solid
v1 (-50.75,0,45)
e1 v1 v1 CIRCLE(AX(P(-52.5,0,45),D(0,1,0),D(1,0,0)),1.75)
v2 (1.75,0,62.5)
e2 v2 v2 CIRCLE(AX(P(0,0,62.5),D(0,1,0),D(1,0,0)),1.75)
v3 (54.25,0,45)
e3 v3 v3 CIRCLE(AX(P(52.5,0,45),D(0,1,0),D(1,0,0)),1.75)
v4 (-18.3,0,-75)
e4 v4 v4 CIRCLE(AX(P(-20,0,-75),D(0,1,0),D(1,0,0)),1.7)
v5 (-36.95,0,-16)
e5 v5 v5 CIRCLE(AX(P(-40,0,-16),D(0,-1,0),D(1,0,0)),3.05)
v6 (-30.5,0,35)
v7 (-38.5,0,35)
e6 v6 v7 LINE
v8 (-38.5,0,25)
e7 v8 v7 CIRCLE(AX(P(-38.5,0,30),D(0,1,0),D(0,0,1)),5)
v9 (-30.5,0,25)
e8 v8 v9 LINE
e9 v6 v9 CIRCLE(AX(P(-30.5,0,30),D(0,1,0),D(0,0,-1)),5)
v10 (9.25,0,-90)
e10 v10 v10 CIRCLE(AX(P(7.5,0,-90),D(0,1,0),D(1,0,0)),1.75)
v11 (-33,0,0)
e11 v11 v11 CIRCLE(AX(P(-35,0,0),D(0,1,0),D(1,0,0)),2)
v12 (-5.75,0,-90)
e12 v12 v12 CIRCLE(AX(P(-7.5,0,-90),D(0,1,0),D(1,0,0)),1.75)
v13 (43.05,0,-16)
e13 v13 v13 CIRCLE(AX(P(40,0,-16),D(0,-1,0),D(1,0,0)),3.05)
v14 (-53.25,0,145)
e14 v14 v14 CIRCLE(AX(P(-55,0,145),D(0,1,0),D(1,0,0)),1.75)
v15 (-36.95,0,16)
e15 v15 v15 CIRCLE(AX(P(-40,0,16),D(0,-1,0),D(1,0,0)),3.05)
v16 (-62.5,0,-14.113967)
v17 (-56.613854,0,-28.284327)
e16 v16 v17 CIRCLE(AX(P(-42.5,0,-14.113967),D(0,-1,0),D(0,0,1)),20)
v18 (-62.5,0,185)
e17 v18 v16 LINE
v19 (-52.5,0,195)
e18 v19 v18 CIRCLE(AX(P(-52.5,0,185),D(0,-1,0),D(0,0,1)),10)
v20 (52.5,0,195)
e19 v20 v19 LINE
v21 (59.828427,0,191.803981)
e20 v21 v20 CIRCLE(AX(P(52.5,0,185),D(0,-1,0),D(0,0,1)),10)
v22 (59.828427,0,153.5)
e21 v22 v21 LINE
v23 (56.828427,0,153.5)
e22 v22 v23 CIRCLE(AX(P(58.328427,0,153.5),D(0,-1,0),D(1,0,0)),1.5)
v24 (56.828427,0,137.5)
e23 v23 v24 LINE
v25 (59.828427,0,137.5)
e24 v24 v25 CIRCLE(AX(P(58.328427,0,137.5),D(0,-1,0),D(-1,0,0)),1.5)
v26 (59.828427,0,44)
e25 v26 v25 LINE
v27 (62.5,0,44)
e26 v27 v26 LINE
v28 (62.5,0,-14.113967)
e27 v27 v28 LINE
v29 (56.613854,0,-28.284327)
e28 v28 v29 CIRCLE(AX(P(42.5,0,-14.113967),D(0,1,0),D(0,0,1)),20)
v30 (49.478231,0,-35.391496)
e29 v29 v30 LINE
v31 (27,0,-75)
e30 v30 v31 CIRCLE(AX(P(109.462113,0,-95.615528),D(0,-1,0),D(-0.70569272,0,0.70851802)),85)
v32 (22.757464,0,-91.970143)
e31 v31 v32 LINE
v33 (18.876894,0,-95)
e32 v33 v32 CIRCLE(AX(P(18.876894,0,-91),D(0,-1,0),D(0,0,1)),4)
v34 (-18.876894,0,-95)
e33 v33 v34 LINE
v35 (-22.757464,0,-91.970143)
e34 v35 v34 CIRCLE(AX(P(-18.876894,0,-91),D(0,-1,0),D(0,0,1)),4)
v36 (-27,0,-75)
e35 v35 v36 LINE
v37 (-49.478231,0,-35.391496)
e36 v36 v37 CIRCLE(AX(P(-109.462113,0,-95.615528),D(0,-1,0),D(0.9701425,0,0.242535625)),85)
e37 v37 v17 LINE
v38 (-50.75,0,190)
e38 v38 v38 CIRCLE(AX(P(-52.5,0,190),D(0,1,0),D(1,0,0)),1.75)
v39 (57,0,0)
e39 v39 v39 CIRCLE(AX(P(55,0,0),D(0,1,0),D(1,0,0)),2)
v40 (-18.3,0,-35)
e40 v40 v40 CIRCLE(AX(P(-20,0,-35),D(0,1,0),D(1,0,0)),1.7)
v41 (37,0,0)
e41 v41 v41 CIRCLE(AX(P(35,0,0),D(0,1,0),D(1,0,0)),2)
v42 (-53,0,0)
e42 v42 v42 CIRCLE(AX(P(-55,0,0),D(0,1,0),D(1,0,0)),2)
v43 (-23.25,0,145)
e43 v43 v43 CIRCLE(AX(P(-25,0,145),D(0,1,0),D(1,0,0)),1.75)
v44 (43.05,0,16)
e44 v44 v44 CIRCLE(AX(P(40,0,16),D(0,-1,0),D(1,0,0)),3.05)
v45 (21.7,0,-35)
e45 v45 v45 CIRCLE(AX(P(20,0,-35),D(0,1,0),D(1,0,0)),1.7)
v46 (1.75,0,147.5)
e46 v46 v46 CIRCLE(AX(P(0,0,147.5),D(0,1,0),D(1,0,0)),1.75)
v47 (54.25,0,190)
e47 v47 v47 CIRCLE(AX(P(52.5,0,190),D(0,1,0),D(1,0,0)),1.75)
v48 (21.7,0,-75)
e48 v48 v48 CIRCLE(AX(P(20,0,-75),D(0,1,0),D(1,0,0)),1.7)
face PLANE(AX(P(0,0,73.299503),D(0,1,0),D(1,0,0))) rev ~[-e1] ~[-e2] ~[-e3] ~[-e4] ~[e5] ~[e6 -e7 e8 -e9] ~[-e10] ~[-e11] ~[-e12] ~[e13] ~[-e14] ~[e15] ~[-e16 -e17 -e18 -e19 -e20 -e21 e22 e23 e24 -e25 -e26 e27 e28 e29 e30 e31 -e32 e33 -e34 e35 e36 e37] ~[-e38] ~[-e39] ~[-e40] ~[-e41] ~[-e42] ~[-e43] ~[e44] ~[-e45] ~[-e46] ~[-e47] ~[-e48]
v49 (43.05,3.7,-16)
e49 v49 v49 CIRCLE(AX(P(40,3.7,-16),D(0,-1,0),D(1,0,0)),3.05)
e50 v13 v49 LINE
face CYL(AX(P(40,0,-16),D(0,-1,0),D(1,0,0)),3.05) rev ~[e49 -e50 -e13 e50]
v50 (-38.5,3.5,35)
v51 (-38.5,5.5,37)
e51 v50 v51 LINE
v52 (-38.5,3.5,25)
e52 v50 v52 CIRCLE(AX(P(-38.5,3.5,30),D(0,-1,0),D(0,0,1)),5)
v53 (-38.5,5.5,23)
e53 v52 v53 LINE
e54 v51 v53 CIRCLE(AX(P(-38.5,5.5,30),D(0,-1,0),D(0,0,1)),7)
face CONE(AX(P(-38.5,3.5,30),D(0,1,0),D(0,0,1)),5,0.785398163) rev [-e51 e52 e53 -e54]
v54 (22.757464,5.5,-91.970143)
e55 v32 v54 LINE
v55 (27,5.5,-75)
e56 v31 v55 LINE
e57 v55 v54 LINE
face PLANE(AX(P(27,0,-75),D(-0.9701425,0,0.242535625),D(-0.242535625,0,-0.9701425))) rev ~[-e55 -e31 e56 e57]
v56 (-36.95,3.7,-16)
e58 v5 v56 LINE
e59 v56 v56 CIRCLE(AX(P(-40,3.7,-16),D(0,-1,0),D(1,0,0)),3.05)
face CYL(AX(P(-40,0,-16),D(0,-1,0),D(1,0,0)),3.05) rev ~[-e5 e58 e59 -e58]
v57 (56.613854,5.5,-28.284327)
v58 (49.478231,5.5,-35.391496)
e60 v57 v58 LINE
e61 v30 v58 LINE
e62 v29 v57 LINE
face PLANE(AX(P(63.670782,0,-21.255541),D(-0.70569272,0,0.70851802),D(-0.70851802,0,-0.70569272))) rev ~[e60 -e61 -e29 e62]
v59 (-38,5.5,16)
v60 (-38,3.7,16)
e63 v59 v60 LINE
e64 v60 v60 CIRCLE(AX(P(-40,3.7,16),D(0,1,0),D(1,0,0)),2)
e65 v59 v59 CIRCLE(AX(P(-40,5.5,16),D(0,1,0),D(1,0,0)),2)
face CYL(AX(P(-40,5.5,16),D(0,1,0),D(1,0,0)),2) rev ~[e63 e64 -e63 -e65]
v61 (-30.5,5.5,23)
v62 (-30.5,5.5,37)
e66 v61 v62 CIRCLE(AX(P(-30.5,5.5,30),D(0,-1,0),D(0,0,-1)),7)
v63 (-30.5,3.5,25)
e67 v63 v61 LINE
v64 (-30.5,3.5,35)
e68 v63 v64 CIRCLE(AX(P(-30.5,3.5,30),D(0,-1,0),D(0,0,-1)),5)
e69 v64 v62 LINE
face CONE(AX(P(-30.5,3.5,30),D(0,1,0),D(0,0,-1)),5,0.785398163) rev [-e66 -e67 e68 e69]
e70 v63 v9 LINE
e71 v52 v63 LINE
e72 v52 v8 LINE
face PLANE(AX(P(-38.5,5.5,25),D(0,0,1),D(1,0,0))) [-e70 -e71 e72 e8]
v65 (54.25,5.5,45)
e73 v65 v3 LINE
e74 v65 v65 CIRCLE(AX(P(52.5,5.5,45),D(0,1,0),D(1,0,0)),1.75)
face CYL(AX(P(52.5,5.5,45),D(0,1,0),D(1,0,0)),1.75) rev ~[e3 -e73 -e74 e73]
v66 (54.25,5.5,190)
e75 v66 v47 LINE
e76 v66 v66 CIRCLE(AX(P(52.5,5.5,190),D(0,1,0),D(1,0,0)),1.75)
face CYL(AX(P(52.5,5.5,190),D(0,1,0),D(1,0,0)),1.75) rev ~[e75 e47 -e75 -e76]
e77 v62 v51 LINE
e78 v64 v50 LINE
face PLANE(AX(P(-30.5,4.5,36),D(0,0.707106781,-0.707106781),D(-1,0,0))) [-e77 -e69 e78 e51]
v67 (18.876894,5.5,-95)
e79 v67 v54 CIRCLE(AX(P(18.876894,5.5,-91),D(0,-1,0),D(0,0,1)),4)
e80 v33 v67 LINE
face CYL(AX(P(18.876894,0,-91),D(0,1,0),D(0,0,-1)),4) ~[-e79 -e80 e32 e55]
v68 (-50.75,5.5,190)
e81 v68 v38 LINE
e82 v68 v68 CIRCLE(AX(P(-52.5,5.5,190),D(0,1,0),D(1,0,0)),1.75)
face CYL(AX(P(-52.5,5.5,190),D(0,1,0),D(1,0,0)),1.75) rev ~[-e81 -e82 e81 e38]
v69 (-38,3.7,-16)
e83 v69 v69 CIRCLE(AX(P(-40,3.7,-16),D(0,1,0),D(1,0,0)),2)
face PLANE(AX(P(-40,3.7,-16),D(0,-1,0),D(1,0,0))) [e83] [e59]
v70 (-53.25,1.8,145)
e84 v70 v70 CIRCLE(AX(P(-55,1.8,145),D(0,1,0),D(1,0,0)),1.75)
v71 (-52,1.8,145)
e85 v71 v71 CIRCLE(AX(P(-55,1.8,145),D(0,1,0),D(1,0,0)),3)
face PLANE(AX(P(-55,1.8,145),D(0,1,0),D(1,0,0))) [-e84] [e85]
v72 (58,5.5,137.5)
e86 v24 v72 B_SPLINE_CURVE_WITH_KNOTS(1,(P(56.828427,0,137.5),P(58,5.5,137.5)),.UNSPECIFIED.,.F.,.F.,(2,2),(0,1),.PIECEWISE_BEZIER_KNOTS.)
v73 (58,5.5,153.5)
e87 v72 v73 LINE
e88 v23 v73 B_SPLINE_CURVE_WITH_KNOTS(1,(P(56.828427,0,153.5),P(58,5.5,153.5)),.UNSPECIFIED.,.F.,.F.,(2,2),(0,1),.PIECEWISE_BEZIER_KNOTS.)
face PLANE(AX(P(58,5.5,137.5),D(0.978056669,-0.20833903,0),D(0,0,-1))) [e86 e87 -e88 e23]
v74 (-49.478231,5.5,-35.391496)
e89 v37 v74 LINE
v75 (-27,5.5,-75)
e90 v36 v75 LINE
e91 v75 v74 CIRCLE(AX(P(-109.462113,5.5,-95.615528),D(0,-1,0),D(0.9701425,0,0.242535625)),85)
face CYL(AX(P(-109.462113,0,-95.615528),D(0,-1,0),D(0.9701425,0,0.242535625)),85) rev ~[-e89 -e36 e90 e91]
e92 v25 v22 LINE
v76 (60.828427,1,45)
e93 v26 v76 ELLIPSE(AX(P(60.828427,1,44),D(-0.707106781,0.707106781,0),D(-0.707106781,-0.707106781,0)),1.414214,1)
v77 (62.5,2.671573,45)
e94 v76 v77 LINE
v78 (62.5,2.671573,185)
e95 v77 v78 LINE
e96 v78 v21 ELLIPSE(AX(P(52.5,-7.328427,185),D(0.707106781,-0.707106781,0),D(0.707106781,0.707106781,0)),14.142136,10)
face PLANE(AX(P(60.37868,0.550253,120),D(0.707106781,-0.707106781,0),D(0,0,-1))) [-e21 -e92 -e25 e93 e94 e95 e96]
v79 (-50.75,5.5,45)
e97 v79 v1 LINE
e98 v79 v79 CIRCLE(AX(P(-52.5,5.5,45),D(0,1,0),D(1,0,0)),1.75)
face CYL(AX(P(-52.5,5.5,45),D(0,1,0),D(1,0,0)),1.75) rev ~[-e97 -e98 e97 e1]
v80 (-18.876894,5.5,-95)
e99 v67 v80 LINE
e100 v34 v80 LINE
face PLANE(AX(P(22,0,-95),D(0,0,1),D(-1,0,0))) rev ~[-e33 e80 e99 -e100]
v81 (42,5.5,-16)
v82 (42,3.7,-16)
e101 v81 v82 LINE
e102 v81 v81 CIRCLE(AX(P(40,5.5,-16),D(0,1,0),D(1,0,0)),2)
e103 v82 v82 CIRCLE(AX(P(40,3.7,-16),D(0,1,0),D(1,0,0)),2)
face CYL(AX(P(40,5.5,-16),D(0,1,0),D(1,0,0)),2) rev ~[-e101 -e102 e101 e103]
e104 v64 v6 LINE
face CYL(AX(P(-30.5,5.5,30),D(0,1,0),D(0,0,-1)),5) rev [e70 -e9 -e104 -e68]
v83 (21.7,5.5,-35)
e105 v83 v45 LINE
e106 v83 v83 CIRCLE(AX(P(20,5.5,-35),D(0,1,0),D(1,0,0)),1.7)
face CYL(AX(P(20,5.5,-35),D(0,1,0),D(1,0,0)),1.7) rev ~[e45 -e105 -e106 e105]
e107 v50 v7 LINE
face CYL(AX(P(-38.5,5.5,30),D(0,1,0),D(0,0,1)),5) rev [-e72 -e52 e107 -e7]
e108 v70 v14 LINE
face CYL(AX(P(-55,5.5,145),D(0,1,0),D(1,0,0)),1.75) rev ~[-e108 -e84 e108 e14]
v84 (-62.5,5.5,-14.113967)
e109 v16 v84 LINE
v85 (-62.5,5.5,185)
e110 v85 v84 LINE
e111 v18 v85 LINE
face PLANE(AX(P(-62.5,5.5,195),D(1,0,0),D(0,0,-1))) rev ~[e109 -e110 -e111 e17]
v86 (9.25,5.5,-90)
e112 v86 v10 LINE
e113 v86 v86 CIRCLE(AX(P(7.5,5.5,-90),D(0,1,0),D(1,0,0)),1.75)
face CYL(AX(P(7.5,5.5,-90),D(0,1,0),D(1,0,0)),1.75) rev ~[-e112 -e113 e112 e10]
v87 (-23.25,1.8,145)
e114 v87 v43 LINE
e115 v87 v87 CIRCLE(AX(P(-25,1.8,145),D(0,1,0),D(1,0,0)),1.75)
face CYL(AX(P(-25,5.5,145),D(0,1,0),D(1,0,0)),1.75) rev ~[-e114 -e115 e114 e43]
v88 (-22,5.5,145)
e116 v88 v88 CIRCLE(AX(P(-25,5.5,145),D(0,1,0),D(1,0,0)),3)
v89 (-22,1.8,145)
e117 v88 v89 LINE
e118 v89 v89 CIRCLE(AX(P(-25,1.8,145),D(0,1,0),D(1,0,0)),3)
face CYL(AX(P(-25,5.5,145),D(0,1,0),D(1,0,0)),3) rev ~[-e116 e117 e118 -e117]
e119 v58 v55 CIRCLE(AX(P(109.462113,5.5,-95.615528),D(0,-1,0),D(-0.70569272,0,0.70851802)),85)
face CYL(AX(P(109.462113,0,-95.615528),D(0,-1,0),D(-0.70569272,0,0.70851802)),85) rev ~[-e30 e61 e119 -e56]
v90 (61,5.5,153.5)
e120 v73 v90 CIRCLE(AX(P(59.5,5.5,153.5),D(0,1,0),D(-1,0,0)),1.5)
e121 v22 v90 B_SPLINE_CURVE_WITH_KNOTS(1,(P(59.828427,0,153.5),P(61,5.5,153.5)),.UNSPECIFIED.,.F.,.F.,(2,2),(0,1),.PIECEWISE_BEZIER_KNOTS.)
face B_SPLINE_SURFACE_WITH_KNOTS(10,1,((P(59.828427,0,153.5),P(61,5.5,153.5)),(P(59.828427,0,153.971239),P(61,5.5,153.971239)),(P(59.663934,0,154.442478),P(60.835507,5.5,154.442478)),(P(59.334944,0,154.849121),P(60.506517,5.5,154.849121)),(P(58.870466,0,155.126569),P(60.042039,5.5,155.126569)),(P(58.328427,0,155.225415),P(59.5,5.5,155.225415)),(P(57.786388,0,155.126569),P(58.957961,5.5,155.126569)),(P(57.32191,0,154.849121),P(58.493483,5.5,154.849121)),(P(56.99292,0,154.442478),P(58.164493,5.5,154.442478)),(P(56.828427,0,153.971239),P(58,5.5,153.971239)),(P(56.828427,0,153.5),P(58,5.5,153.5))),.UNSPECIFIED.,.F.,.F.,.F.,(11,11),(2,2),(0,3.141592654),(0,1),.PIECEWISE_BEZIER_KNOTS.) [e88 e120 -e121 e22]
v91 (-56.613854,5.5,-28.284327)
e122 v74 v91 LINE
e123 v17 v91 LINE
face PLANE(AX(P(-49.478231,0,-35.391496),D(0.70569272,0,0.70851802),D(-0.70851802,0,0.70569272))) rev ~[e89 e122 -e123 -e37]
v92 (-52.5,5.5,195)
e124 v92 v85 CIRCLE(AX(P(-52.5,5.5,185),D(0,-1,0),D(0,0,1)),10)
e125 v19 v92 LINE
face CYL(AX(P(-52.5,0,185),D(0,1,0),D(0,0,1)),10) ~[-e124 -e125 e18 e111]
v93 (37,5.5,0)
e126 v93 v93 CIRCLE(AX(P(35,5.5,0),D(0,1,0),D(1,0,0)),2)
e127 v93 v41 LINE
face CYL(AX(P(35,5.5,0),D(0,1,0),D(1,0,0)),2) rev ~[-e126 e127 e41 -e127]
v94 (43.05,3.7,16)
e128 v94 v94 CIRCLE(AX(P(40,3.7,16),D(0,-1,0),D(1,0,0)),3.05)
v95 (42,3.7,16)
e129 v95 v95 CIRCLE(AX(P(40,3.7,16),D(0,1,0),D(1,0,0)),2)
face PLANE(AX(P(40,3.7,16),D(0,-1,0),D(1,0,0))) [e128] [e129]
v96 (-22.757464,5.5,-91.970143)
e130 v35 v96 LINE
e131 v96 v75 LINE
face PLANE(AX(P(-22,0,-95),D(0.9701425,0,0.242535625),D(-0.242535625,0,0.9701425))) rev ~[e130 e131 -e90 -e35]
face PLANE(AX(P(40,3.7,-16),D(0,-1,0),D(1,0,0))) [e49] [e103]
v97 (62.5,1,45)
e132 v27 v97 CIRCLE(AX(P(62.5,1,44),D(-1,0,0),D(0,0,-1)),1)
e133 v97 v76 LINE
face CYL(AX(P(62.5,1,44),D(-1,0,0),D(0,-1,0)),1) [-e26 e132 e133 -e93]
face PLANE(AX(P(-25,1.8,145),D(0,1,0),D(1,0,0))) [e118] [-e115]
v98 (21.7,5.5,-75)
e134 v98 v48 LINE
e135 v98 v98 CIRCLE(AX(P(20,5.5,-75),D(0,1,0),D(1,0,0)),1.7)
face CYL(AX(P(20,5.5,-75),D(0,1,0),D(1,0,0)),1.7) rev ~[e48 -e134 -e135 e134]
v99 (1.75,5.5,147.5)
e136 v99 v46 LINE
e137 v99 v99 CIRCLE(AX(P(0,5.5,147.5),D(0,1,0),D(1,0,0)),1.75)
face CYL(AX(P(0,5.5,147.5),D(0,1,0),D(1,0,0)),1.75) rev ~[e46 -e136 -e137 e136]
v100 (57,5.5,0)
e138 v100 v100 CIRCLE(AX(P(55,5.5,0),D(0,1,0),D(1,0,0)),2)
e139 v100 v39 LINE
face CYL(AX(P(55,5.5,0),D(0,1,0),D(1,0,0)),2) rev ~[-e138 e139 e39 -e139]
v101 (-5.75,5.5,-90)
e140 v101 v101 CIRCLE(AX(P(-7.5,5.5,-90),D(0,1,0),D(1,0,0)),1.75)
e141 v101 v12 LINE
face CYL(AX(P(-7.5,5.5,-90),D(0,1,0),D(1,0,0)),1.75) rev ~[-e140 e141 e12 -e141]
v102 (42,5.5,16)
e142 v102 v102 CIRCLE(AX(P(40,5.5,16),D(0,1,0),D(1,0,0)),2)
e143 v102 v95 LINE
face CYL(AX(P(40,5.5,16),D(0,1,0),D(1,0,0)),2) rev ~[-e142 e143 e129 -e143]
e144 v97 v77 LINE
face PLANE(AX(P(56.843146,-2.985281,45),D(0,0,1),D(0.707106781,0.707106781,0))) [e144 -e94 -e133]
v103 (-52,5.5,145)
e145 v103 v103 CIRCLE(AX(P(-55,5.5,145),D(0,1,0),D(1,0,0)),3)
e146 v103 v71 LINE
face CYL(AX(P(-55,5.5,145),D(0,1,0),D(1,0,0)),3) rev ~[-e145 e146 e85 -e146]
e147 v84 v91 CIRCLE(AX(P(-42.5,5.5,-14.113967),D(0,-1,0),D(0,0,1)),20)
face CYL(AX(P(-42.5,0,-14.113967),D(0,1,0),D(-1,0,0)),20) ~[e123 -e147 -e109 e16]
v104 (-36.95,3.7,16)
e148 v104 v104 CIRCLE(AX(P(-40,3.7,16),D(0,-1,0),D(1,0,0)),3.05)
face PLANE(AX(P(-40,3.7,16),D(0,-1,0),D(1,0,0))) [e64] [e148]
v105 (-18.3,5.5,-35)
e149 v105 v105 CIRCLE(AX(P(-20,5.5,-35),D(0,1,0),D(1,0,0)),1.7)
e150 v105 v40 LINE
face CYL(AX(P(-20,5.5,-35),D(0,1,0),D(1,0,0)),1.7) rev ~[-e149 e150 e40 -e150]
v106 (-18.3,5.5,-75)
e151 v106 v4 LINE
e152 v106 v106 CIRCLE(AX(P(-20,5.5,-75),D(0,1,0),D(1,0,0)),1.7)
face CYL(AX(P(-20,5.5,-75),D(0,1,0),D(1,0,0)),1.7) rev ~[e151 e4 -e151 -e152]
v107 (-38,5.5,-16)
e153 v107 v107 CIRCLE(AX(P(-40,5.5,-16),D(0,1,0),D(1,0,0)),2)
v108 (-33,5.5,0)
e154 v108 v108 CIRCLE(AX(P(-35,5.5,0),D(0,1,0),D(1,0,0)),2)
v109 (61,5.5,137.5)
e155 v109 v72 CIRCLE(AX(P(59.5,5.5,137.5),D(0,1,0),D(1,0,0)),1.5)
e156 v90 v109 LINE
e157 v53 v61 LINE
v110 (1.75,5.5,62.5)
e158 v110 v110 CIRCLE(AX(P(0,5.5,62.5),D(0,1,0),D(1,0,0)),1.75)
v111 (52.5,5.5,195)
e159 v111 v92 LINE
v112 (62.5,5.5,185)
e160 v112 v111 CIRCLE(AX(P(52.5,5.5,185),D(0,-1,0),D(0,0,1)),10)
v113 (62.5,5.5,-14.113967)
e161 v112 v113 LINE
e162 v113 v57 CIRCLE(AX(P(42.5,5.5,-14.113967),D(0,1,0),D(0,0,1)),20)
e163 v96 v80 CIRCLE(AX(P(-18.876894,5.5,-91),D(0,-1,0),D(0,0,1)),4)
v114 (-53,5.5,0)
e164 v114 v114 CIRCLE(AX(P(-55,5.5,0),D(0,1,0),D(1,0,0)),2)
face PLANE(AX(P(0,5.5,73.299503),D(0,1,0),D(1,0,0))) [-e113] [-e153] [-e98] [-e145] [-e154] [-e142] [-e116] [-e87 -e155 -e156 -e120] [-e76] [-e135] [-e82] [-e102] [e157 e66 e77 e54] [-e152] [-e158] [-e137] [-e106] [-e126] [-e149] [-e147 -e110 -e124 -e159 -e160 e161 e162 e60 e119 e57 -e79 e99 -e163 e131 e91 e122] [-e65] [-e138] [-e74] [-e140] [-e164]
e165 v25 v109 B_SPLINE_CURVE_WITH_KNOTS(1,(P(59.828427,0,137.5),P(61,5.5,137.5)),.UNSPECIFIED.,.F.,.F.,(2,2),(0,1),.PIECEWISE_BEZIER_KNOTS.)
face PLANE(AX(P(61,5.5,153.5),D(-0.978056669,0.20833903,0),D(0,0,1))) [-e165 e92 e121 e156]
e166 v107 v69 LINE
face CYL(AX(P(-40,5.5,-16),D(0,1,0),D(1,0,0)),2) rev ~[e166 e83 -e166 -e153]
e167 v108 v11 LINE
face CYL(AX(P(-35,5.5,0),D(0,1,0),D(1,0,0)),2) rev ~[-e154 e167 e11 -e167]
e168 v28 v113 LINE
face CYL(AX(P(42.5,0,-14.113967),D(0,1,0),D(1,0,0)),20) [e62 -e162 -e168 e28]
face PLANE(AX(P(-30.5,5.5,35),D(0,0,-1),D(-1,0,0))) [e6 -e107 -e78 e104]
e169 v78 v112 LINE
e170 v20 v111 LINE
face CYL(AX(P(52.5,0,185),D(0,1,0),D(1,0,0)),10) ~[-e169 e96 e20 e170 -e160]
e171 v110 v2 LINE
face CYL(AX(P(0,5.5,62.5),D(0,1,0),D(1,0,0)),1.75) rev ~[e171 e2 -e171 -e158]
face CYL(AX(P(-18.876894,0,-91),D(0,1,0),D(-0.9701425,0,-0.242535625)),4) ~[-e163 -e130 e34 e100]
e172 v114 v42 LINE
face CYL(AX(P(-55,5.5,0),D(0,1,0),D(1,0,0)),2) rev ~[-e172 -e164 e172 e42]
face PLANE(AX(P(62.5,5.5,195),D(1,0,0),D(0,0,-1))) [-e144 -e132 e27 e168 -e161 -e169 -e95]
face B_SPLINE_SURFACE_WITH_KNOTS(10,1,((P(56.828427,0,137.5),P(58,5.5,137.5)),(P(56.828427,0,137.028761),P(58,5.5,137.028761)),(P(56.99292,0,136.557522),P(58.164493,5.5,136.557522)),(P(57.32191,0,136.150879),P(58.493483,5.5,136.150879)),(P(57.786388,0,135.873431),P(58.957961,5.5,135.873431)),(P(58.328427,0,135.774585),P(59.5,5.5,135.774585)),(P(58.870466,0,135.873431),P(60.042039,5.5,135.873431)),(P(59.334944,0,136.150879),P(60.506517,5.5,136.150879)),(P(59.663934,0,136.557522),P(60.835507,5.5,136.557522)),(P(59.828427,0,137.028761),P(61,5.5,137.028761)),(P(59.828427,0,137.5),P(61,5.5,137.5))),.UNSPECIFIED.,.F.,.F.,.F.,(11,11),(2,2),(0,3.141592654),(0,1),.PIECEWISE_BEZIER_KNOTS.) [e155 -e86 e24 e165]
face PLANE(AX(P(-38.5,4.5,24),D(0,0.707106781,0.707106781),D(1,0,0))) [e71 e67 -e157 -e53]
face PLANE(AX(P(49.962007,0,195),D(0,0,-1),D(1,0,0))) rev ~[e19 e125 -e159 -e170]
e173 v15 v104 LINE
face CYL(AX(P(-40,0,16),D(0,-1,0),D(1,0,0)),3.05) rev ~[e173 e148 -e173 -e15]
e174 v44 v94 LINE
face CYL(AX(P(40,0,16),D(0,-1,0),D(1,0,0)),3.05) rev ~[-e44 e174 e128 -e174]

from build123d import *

# Parameters (mm, degrees)
DECK_BASE_DEPTH       = 5.5
BOLT_SLOT_REACH       = 7.5
SKETCH_3_R            = 1.75
FILLET_1_R            = 4
CUT_EXTRUDE_6_REACH   = 7.5
SKETCH_15_W           = 145
SKETCH_15_H           = 39
SKETCH_17_OUTSIDE_W   = 211.856
SKETCH_17_OUTSIDE_H   = 356.856
SKETCH_17_OUTSIDE_W_2 = 125
SKETCH_17_OUTSIDE_H_2 = 290
CUT_EXTRUDE_8_DEPTH   = 10
FILLET_4_R            = 10
FILLET_5_R            = 20
MOTOR_BOLT_DEPTH      = 10
CHAMFER_1_SIZE        = 2
SKETCH_22_R           = 2
CUT_EXTRUDE_9_DEPTH   = 10
LIDAR_SLOT_REACH      = 7.5
SKETCH_4_R            = 1.7
NANO_SLOT_REACH       = 7.5
SKETCH_7_R            = 1.75
CUT_EXTRUDE_3_REACH   = 7.5
SKETCH_12_R           = 1.75
SKETCH_13_R           = 3
CUT_EXTRUDE_4_DEPTH   = 3.7
SKETCH_23_R           = 3.05
CUT_EXTRUDE_10_DEPTH  = 3.7
CUT_EXTRUDE_12_REACH  = 3.889
SKETCH_25_W           = 150
SKETCH_25_H           = 10
FILLET_6_R            = 1


with BuildPart() as part:
    # 스케치1 → Deck base (new body)
    with BuildSketch(Plane(origin=(0, 0, 0), x_dir=(1, 0, 0), z_dir=(0, 1, 0))):
        with BuildLine():
            Line((-72.5, 0), (-72.5, -185))
            ThreePointArc((-72.5, -185), (-69.571067812, -192.071067812), (-62.5, -195))
            Line((-62.5, -195), (-49.962007487, -195))
            ThreePointArc((-49.962007487, -195), (-47.753248675, -195.514313374), (-45.998887542, -196.951446196))
            Line((-45.998887542, -196.951446196), (-19.001112458, -232.048553804))
            ThreePointArc((-19.001112458, -232.048553804), (-17.246751325, -233.485686626), (-15.037992513, -234))
            Line((-15.037992513, -234), (15.037992513, -234))
            ThreePointArc((15.037992513, -234), (17.246751325, -233.485686626), (19.001112458, -232.048553804))
            Line((19.001112458, -232.048553804), (45.998887542, -196.951446196))
            ThreePointArc((45.998887542, -196.951446196), (47.753248675, -195.514313374), (49.962007487, -195))
            Line((49.962007487, -195), (62.5, -195))
            ThreePointArc((62.5, -195), (69.571067812, -192.071067812), (72.5, -185))
            Line((72.5, -185), (72.5, 0))
            ThreePointArc((72.5, 0), (70.204904333, 11.508182998), (63.670781605, 21.255540601))
            Line((63.670781605, 21.255540601), (49.478231298, 35.391496426))
            ThreePointArc((49.478231298, 35.391496426), (35.536990456, 53.662264501), (27, 75))
            Line((27, 75), (22, 95))
            Line((22, 95), (-22, 95))
            Line((-22, 95), (-27, 75))
            ThreePointArc((-27, 75), (-35.536990456, 53.662264501), (-49.478231298, 35.391496426))
            Line((-49.478231298, 35.391496426), (-63.670781605, 21.255540601))
            ThreePointArc((-63.670781605, 21.255540601), (-70.204904333, 11.508182998), (-72.5, 0))
        make_face()
    extrude(amount=DECK_BASE_DEPTH)

    # 스케치3 → Bolt slot (cut, up to next)
    with BuildSketch(Plane(origin=(0, 5.5, 0), x_dir=(1, 0, 0), z_dir=(0, 1, 0)), mode=Mode.PRIVATE) as bolt_slot_sk1:
        with Locations((7.5, 90)):
            Circle(SKETCH_3_R)
    bolt_slot_tool1 = extrude(bolt_slot_sk1.sketch, amount=-BOLT_SLOT_REACH, mode=Mode.PRIVATE) & part.part
    add(bolt_slot_tool1.solids().sort_by_distance((7.5, 5.5, -90))[0], mode=Mode.SUBTRACT)
    # 스케치3 → Bolt slot (cut, up to next)
    with BuildSketch(Plane(origin=(0, 5.5, 0), x_dir=(1, 0, 0), z_dir=(0, 1, 0)), mode=Mode.PRIVATE) as bolt_slot_sk2:
        with Locations((-7.5, 90)):
            Circle(SKETCH_3_R)
    bolt_slot_tool2 = extrude(bolt_slot_sk2.sketch, amount=-BOLT_SLOT_REACH, mode=Mode.PRIVATE) & part.part
    add(bolt_slot_tool2.solids().sort_by_distance((-7.5, 5.5, -90))[0], mode=Mode.SUBTRACT)
    # 스케치3 → Bolt slot (cut, up to next)
    with BuildSketch(Plane(origin=(0, 5.5, 0), x_dir=(1, 0, 0), z_dir=(0, 1, 0)), mode=Mode.PRIVATE) as bolt_slot_sk3:
        with Locations((52.5, -45)):
            Circle(SKETCH_3_R)
    bolt_slot_tool3 = extrude(bolt_slot_sk3.sketch, amount=-BOLT_SLOT_REACH, mode=Mode.PRIVATE) & part.part
    add(bolt_slot_tool3.solids().sort_by_distance((52.5, 5.5, 45))[0], mode=Mode.SUBTRACT)
    # 스케치3 → Bolt slot (cut, up to next)
    with BuildSketch(Plane(origin=(0, 5.5, 0), x_dir=(1, 0, 0), z_dir=(0, 1, 0)), mode=Mode.PRIVATE) as bolt_slot_sk4:
        with Locations((52.5, -190)):
            Circle(SKETCH_3_R)
    bolt_slot_tool4 = extrude(bolt_slot_sk4.sketch, amount=-BOLT_SLOT_REACH, mode=Mode.PRIVATE) & part.part
    add(bolt_slot_tool4.solids().sort_by_distance((52.5, 5.5, 190))[0], mode=Mode.SUBTRACT)
    # 스케치3 → Bolt slot (cut, up to next)
    with BuildSketch(Plane(origin=(0, 5.5, 0), x_dir=(1, 0, 0), z_dir=(0, 1, 0)), mode=Mode.PRIVATE) as bolt_slot_sk5:
        with Locations((-52.5, -190)):
            Circle(SKETCH_3_R)
    bolt_slot_tool5 = extrude(bolt_slot_sk5.sketch, amount=-BOLT_SLOT_REACH, mode=Mode.PRIVATE) & part.part
    add(bolt_slot_tool5.solids().sort_by_distance((-52.5, 5.5, 190))[0], mode=Mode.SUBTRACT)
    # 스케치3 → Bolt slot (cut, up to next)
    with BuildSketch(Plane(origin=(0, 5.5, 0), x_dir=(1, 0, 0), z_dir=(0, 1, 0)), mode=Mode.PRIVATE) as bolt_slot_sk6:
        with Locations((-52.5, -45)):
            Circle(SKETCH_3_R)
    bolt_slot_tool6 = extrude(bolt_slot_sk6.sketch, amount=-BOLT_SLOT_REACH, mode=Mode.PRIVATE) & part.part
    add(bolt_slot_tool6.solids().sort_by_distance((-52.5, 5.5, 45))[0], mode=Mode.SUBTRACT)

    # 필렛1
    fillet_1_edges = [part.edges().sort_by_distance(p)[0] for p in [
        (22, 2.75, -95),
        (-22, 2.75, -95),
    ]]
    fillet(fillet_1_edges, radius=FILLET_1_R)

    # 스케치15 → 컷-돌출6 (cut, up to next)
    with BuildSketch(Plane(origin=(0, 5.5, 0), x_dir=(1, 0, 0), z_dir=(0, 1, 0)), mode=Mode.PRIVATE) as cut_extrude_6_sk1:
        with Locations((0, -214.5)):
            Rectangle(SKETCH_15_W, SKETCH_15_H)
    cut_extrude_6_tool1 = extrude(cut_extrude_6_sk1.sketch, amount=-CUT_EXTRUDE_6_REACH, mode=Mode.PRIVATE) & part.part
    add(cut_extrude_6_tool1.solids().sort_by_distance((0, 5.5, 214.5))[0], mode=Mode.SUBTRACT)

    # 스케치17 outside → 컷-돌출8 (cut)
    with BuildSketch(Plane(origin=(0, 5.5, 0), x_dir=(1, 0, 0), z_dir=(0, 1, 0))):
        with Locations((0, -50)):
            Rectangle(SKETCH_17_OUTSIDE_W, SKETCH_17_OUTSIDE_H)
        with Locations((0, -50)):
            Rectangle(SKETCH_17_OUTSIDE_W_2, SKETCH_17_OUTSIDE_H_2, mode=Mode.SUBTRACT)
    extrude(amount=-CUT_EXTRUDE_8_DEPTH, mode=Mode.SUBTRACT)

    # 필렛4
    fillet_4_edges = [part.edges().sort_by_distance(p)[0] for p in [
        (-62.5, 2.75, 195),
        (62.5, 2.75, 195),
    ]]
    fillet(fillet_4_edges, radius=FILLET_4_R)

    # 필렛5
    fillet_5_edges = [part.edges().sort_by_distance(p)[0] for p in [
        (-62.5, 2.75, -22.421653575),
        (62.5, 2.75, -22.421653575),
    ]]
    fillet(fillet_5_edges, radius=FILLET_5_R)

    # 스케치19 → Motor bolt (cut)
    with BuildSketch(Plane(origin=(0, 5.5, 0), x_dir=(1, 0, 0), z_dir=(0, 1, 0))):
        with BuildLine():
            Line((-38.5, -25), (-30.5, -25))
            ThreePointArc((-30.5, -25), (-25.5, -30), (-30.5, -35))
            Line((-30.5, -35), (-38.5, -35))
            ThreePointArc((-38.5, -35), (-43.5, -30), (-38.5, -25))
        make_face()
    extrude(amount=-MOTOR_BOLT_DEPTH, mode=Mode.SUBTRACT)

    # 모따기1
    chamfer_1_edges = [part.edges().sort_by_distance(p)[0] for p in [
        (-43.5, 5.5, 30),
        (-34.5, 5.5, 35),
        (-25.5, 5.5, 30),
        (-34.5, 5.5, 25),
    ]]
    chamfer(chamfer_1_edges, length=CHAMFER_1_SIZE)

    # 스케치22 → 컷-돌출9 (cut)
    with BuildSketch(Plane(origin=(0, 5.5, 0), x_dir=(1, 0, 0), z_dir=(0, 1, 0))):
        with Locations((-54.999999999, 0)):
            Circle(SKETCH_22_R)
        with Locations((-34.999999999, 0)):
            Circle(SKETCH_22_R)
        with Locations((-40, 16)):
            Circle(SKETCH_22_R)
        with Locations((40, 16)):
            Circle(SKETCH_22_R)
        with Locations((34.999999999, 0)):
            Circle(SKETCH_22_R)
        with Locations((54.999999999, 0)):
            Circle(SKETCH_22_R)
        with Locations((40, -16)):
            Circle(SKETCH_22_R)
        with Locations((-40, -16)):
            Circle(SKETCH_22_R)
    extrude(amount=-CUT_EXTRUDE_9_DEPTH, mode=Mode.SUBTRACT)

    # 스케치4 → Lidar slot (cut, up to next)
    with BuildSketch(Plane(origin=(0, 5.5, 0), x_dir=(1, 0, 0), z_dir=(0, 1, 0)), mode=Mode.PRIVATE) as lidar_slot_sk1:
        with Locations((-20, 75)):
            Circle(SKETCH_4_R)
    lidar_slot_tool1 = extrude(lidar_slot_sk1.sketch, amount=-LIDAR_SLOT_REACH, mode=Mode.PRIVATE) & part.part
    add(lidar_slot_tool1.solids().sort_by_distance((-20, 5.5, -75))[0], mode=Mode.SUBTRACT)
    # 스케치4 → Lidar slot (cut, up to next)
    with BuildSketch(Plane(origin=(0, 5.5, 0), x_dir=(1, 0, 0), z_dir=(0, 1, 0)), mode=Mode.PRIVATE) as lidar_slot_sk2:
        with Locations((-20, 35)):
            Circle(SKETCH_4_R)
    lidar_slot_tool2 = extrude(lidar_slot_sk2.sketch, amount=-LIDAR_SLOT_REACH, mode=Mode.PRIVATE) & part.part
    add(lidar_slot_tool2.solids().sort_by_distance((-20, 5.5, -35))[0], mode=Mode.SUBTRACT)
    # 스케치4 → Lidar slot (cut, up to next)
    with BuildSketch(Plane(origin=(0, 5.5, 0), x_dir=(1, 0, 0), z_dir=(0, 1, 0)), mode=Mode.PRIVATE) as lidar_slot_sk3:
        with Locations((20, 35)):
            Circle(SKETCH_4_R)
    lidar_slot_tool3 = extrude(lidar_slot_sk3.sketch, amount=-LIDAR_SLOT_REACH, mode=Mode.PRIVATE) & part.part
    add(lidar_slot_tool3.solids().sort_by_distance((20, 5.5, -35))[0], mode=Mode.SUBTRACT)
    # 스케치4 → Lidar slot (cut, up to next)
    with BuildSketch(Plane(origin=(0, 5.5, 0), x_dir=(1, 0, 0), z_dir=(0, 1, 0)), mode=Mode.PRIVATE) as lidar_slot_sk4:
        with Locations((20, 75)):
            Circle(SKETCH_4_R)
    lidar_slot_tool4 = extrude(lidar_slot_sk4.sketch, amount=-LIDAR_SLOT_REACH, mode=Mode.PRIVATE) & part.part
    add(lidar_slot_tool4.solids().sort_by_distance((20, 5.5, -75))[0], mode=Mode.SUBTRACT)

    # 스케치7 → Nano slot (cut, up to next)
    with BuildSketch(Plane(origin=(0, 5.5, 0), x_dir=(1, 0, 0), z_dir=(0, 1, 0)), mode=Mode.PRIVATE) as nano_slot_sk1:
        with Locations((0, -62.5)):
            Circle(SKETCH_7_R)
    nano_slot_tool1 = extrude(nano_slot_sk1.sketch, amount=-NANO_SLOT_REACH, mode=Mode.PRIVATE) & part.part
    add(nano_slot_tool1.solids().sort_by_distance((0, 5.5, 62.5))[0], mode=Mode.SUBTRACT)
    # 스케치7 → Nano slot (cut, up to next)
    with BuildSketch(Plane(origin=(0, 5.5, 0), x_dir=(1, 0, 0), z_dir=(0, 1, 0)), mode=Mode.PRIVATE) as nano_slot_sk2:
        with Locations((0, -147.5)):
            Circle(SKETCH_7_R)
    nano_slot_tool2 = extrude(nano_slot_sk2.sketch, amount=-NANO_SLOT_REACH, mode=Mode.PRIVATE) & part.part
    add(nano_slot_tool2.solids().sort_by_distance((0, 5.5, 147.5))[0], mode=Mode.SUBTRACT)

    # 스케치12 → 컷-돌출3 (cut, up to next)
    with BuildSketch(Plane(origin=(0, 5.5, 0), x_dir=(1, 0, 0), z_dir=(0, 1, 0)), mode=Mode.PRIVATE) as cut_extrude_3_sk1:
        with Locations((-55, -145)):
            Circle(SKETCH_12_R)
    cut_extrude_3_tool1 = extrude(cut_extrude_3_sk1.sketch, amount=-CUT_EXTRUDE_3_REACH, mode=Mode.PRIVATE) & part.part
    add(cut_extrude_3_tool1.solids().sort_by_distance((-55, 5.5, 145))[0], mode=Mode.SUBTRACT)
    # 스케치12 → 컷-돌출3 (cut, up to next)
    with BuildSketch(Plane(origin=(0, 5.5, 0), x_dir=(1, 0, 0), z_dir=(0, 1, 0)), mode=Mode.PRIVATE) as cut_extrude_3_sk2:
        with Locations((-25, -145)):
            Circle(SKETCH_12_R)
    cut_extrude_3_tool2 = extrude(cut_extrude_3_sk2.sketch, amount=-CUT_EXTRUDE_3_REACH, mode=Mode.PRIVATE) & part.part
    add(cut_extrude_3_tool2.solids().sort_by_distance((-25, 5.5, 145))[0], mode=Mode.SUBTRACT)

    # 스케치13 → 컷-돌출4 (cut)
    with BuildSketch(Plane(origin=(0, 5.5, 0), x_dir=(1, 0, 0), z_dir=(0, 1, 0))):
        with Locations((-55, -145)):
            Circle(SKETCH_13_R)
        with Locations((-25, -145)):
            Circle(SKETCH_13_R)
    extrude(amount=-CUT_EXTRUDE_4_DEPTH, mode=Mode.SUBTRACT)

    # 스케치23 → 컷-돌출10 (cut)
    with BuildSketch(Plane.XZ):
        with Locations((40, 16)):
            Circle(SKETCH_23_R)
        with Locations((40, -16)):
            Circle(SKETCH_23_R)
        with Locations((-40, -16)):
            Circle(SKETCH_23_R)
        with Locations((-40, 16)):
            Circle(SKETCH_23_R)
    extrude(amount=-CUT_EXTRUDE_10_DEPTH, mode=Mode.SUBTRACT)

    # 스케치25 → 컷-돌출12 (cut, up to next)
    with BuildSketch(Plane(origin=(29.914213562, -29.914213562, 0), x_dir=(0, 0, -1), z_dir=(0.707106781, -0.707106781, 0)), mode=Mode.PRIVATE) as cut_extrude_12_sk1:
        with Locations((-120, 43.083261121)):
            Rectangle(SKETCH_25_W, SKETCH_25_H)
    cut_extrude_12_tool1 = extrude(cut_extrude_12_sk1.sketch, amount=CUT_EXTRUDE_12_REACH, mode=Mode.PRIVATE) & part.part
    add(cut_extrude_12_tool1.solids().sort_by_distance((60.37868, 0.550253, 120))[0], mode=Mode.SUBTRACT)

    # 필렛6
    fillet_6_edges = [part.edges().sort_by_distance(p)[0] for p in [
        (61.164213562, 0, 45),
    ]]
    fillet(fillet_6_edges, radius=FILLET_6_R)

    # 스케치26 → 컷-로프트2 section 0
    with BuildSketch(Plane.XZ):
        with BuildLine():
            Line((56.828427125, 153.5), (56.828427125, 137.5))
            ThreePointArc((56.828427125, 137.5), (58.328427125, 136), (59.828427125, 137.5))
            Line((59.828427125, 137.5), (59.828427125, 153.5))
            ThreePointArc((59.828427125, 153.5), (58.328427125, 155), (56.828427125, 153.5))
        make_face()
    # 스케치27 → 컷-로프트2 section 1
    with BuildSketch(Plane(origin=(0, 5.5, 0), x_dir=(1, 0, 0), z_dir=(0, 1, 0))):
        with BuildLine():
            Line((58, -137.5), (58, -153.5))
            ThreePointArc((58, -153.5), (59.5, -155), (61, -153.5))
            Line((61, -153.5), (61, -137.5))
            ThreePointArc((61, -137.5), (59.5, -136), (58, -137.5))
        make_face()
    loft(mode=Mode.SUBTRACT)


solid = part.part
